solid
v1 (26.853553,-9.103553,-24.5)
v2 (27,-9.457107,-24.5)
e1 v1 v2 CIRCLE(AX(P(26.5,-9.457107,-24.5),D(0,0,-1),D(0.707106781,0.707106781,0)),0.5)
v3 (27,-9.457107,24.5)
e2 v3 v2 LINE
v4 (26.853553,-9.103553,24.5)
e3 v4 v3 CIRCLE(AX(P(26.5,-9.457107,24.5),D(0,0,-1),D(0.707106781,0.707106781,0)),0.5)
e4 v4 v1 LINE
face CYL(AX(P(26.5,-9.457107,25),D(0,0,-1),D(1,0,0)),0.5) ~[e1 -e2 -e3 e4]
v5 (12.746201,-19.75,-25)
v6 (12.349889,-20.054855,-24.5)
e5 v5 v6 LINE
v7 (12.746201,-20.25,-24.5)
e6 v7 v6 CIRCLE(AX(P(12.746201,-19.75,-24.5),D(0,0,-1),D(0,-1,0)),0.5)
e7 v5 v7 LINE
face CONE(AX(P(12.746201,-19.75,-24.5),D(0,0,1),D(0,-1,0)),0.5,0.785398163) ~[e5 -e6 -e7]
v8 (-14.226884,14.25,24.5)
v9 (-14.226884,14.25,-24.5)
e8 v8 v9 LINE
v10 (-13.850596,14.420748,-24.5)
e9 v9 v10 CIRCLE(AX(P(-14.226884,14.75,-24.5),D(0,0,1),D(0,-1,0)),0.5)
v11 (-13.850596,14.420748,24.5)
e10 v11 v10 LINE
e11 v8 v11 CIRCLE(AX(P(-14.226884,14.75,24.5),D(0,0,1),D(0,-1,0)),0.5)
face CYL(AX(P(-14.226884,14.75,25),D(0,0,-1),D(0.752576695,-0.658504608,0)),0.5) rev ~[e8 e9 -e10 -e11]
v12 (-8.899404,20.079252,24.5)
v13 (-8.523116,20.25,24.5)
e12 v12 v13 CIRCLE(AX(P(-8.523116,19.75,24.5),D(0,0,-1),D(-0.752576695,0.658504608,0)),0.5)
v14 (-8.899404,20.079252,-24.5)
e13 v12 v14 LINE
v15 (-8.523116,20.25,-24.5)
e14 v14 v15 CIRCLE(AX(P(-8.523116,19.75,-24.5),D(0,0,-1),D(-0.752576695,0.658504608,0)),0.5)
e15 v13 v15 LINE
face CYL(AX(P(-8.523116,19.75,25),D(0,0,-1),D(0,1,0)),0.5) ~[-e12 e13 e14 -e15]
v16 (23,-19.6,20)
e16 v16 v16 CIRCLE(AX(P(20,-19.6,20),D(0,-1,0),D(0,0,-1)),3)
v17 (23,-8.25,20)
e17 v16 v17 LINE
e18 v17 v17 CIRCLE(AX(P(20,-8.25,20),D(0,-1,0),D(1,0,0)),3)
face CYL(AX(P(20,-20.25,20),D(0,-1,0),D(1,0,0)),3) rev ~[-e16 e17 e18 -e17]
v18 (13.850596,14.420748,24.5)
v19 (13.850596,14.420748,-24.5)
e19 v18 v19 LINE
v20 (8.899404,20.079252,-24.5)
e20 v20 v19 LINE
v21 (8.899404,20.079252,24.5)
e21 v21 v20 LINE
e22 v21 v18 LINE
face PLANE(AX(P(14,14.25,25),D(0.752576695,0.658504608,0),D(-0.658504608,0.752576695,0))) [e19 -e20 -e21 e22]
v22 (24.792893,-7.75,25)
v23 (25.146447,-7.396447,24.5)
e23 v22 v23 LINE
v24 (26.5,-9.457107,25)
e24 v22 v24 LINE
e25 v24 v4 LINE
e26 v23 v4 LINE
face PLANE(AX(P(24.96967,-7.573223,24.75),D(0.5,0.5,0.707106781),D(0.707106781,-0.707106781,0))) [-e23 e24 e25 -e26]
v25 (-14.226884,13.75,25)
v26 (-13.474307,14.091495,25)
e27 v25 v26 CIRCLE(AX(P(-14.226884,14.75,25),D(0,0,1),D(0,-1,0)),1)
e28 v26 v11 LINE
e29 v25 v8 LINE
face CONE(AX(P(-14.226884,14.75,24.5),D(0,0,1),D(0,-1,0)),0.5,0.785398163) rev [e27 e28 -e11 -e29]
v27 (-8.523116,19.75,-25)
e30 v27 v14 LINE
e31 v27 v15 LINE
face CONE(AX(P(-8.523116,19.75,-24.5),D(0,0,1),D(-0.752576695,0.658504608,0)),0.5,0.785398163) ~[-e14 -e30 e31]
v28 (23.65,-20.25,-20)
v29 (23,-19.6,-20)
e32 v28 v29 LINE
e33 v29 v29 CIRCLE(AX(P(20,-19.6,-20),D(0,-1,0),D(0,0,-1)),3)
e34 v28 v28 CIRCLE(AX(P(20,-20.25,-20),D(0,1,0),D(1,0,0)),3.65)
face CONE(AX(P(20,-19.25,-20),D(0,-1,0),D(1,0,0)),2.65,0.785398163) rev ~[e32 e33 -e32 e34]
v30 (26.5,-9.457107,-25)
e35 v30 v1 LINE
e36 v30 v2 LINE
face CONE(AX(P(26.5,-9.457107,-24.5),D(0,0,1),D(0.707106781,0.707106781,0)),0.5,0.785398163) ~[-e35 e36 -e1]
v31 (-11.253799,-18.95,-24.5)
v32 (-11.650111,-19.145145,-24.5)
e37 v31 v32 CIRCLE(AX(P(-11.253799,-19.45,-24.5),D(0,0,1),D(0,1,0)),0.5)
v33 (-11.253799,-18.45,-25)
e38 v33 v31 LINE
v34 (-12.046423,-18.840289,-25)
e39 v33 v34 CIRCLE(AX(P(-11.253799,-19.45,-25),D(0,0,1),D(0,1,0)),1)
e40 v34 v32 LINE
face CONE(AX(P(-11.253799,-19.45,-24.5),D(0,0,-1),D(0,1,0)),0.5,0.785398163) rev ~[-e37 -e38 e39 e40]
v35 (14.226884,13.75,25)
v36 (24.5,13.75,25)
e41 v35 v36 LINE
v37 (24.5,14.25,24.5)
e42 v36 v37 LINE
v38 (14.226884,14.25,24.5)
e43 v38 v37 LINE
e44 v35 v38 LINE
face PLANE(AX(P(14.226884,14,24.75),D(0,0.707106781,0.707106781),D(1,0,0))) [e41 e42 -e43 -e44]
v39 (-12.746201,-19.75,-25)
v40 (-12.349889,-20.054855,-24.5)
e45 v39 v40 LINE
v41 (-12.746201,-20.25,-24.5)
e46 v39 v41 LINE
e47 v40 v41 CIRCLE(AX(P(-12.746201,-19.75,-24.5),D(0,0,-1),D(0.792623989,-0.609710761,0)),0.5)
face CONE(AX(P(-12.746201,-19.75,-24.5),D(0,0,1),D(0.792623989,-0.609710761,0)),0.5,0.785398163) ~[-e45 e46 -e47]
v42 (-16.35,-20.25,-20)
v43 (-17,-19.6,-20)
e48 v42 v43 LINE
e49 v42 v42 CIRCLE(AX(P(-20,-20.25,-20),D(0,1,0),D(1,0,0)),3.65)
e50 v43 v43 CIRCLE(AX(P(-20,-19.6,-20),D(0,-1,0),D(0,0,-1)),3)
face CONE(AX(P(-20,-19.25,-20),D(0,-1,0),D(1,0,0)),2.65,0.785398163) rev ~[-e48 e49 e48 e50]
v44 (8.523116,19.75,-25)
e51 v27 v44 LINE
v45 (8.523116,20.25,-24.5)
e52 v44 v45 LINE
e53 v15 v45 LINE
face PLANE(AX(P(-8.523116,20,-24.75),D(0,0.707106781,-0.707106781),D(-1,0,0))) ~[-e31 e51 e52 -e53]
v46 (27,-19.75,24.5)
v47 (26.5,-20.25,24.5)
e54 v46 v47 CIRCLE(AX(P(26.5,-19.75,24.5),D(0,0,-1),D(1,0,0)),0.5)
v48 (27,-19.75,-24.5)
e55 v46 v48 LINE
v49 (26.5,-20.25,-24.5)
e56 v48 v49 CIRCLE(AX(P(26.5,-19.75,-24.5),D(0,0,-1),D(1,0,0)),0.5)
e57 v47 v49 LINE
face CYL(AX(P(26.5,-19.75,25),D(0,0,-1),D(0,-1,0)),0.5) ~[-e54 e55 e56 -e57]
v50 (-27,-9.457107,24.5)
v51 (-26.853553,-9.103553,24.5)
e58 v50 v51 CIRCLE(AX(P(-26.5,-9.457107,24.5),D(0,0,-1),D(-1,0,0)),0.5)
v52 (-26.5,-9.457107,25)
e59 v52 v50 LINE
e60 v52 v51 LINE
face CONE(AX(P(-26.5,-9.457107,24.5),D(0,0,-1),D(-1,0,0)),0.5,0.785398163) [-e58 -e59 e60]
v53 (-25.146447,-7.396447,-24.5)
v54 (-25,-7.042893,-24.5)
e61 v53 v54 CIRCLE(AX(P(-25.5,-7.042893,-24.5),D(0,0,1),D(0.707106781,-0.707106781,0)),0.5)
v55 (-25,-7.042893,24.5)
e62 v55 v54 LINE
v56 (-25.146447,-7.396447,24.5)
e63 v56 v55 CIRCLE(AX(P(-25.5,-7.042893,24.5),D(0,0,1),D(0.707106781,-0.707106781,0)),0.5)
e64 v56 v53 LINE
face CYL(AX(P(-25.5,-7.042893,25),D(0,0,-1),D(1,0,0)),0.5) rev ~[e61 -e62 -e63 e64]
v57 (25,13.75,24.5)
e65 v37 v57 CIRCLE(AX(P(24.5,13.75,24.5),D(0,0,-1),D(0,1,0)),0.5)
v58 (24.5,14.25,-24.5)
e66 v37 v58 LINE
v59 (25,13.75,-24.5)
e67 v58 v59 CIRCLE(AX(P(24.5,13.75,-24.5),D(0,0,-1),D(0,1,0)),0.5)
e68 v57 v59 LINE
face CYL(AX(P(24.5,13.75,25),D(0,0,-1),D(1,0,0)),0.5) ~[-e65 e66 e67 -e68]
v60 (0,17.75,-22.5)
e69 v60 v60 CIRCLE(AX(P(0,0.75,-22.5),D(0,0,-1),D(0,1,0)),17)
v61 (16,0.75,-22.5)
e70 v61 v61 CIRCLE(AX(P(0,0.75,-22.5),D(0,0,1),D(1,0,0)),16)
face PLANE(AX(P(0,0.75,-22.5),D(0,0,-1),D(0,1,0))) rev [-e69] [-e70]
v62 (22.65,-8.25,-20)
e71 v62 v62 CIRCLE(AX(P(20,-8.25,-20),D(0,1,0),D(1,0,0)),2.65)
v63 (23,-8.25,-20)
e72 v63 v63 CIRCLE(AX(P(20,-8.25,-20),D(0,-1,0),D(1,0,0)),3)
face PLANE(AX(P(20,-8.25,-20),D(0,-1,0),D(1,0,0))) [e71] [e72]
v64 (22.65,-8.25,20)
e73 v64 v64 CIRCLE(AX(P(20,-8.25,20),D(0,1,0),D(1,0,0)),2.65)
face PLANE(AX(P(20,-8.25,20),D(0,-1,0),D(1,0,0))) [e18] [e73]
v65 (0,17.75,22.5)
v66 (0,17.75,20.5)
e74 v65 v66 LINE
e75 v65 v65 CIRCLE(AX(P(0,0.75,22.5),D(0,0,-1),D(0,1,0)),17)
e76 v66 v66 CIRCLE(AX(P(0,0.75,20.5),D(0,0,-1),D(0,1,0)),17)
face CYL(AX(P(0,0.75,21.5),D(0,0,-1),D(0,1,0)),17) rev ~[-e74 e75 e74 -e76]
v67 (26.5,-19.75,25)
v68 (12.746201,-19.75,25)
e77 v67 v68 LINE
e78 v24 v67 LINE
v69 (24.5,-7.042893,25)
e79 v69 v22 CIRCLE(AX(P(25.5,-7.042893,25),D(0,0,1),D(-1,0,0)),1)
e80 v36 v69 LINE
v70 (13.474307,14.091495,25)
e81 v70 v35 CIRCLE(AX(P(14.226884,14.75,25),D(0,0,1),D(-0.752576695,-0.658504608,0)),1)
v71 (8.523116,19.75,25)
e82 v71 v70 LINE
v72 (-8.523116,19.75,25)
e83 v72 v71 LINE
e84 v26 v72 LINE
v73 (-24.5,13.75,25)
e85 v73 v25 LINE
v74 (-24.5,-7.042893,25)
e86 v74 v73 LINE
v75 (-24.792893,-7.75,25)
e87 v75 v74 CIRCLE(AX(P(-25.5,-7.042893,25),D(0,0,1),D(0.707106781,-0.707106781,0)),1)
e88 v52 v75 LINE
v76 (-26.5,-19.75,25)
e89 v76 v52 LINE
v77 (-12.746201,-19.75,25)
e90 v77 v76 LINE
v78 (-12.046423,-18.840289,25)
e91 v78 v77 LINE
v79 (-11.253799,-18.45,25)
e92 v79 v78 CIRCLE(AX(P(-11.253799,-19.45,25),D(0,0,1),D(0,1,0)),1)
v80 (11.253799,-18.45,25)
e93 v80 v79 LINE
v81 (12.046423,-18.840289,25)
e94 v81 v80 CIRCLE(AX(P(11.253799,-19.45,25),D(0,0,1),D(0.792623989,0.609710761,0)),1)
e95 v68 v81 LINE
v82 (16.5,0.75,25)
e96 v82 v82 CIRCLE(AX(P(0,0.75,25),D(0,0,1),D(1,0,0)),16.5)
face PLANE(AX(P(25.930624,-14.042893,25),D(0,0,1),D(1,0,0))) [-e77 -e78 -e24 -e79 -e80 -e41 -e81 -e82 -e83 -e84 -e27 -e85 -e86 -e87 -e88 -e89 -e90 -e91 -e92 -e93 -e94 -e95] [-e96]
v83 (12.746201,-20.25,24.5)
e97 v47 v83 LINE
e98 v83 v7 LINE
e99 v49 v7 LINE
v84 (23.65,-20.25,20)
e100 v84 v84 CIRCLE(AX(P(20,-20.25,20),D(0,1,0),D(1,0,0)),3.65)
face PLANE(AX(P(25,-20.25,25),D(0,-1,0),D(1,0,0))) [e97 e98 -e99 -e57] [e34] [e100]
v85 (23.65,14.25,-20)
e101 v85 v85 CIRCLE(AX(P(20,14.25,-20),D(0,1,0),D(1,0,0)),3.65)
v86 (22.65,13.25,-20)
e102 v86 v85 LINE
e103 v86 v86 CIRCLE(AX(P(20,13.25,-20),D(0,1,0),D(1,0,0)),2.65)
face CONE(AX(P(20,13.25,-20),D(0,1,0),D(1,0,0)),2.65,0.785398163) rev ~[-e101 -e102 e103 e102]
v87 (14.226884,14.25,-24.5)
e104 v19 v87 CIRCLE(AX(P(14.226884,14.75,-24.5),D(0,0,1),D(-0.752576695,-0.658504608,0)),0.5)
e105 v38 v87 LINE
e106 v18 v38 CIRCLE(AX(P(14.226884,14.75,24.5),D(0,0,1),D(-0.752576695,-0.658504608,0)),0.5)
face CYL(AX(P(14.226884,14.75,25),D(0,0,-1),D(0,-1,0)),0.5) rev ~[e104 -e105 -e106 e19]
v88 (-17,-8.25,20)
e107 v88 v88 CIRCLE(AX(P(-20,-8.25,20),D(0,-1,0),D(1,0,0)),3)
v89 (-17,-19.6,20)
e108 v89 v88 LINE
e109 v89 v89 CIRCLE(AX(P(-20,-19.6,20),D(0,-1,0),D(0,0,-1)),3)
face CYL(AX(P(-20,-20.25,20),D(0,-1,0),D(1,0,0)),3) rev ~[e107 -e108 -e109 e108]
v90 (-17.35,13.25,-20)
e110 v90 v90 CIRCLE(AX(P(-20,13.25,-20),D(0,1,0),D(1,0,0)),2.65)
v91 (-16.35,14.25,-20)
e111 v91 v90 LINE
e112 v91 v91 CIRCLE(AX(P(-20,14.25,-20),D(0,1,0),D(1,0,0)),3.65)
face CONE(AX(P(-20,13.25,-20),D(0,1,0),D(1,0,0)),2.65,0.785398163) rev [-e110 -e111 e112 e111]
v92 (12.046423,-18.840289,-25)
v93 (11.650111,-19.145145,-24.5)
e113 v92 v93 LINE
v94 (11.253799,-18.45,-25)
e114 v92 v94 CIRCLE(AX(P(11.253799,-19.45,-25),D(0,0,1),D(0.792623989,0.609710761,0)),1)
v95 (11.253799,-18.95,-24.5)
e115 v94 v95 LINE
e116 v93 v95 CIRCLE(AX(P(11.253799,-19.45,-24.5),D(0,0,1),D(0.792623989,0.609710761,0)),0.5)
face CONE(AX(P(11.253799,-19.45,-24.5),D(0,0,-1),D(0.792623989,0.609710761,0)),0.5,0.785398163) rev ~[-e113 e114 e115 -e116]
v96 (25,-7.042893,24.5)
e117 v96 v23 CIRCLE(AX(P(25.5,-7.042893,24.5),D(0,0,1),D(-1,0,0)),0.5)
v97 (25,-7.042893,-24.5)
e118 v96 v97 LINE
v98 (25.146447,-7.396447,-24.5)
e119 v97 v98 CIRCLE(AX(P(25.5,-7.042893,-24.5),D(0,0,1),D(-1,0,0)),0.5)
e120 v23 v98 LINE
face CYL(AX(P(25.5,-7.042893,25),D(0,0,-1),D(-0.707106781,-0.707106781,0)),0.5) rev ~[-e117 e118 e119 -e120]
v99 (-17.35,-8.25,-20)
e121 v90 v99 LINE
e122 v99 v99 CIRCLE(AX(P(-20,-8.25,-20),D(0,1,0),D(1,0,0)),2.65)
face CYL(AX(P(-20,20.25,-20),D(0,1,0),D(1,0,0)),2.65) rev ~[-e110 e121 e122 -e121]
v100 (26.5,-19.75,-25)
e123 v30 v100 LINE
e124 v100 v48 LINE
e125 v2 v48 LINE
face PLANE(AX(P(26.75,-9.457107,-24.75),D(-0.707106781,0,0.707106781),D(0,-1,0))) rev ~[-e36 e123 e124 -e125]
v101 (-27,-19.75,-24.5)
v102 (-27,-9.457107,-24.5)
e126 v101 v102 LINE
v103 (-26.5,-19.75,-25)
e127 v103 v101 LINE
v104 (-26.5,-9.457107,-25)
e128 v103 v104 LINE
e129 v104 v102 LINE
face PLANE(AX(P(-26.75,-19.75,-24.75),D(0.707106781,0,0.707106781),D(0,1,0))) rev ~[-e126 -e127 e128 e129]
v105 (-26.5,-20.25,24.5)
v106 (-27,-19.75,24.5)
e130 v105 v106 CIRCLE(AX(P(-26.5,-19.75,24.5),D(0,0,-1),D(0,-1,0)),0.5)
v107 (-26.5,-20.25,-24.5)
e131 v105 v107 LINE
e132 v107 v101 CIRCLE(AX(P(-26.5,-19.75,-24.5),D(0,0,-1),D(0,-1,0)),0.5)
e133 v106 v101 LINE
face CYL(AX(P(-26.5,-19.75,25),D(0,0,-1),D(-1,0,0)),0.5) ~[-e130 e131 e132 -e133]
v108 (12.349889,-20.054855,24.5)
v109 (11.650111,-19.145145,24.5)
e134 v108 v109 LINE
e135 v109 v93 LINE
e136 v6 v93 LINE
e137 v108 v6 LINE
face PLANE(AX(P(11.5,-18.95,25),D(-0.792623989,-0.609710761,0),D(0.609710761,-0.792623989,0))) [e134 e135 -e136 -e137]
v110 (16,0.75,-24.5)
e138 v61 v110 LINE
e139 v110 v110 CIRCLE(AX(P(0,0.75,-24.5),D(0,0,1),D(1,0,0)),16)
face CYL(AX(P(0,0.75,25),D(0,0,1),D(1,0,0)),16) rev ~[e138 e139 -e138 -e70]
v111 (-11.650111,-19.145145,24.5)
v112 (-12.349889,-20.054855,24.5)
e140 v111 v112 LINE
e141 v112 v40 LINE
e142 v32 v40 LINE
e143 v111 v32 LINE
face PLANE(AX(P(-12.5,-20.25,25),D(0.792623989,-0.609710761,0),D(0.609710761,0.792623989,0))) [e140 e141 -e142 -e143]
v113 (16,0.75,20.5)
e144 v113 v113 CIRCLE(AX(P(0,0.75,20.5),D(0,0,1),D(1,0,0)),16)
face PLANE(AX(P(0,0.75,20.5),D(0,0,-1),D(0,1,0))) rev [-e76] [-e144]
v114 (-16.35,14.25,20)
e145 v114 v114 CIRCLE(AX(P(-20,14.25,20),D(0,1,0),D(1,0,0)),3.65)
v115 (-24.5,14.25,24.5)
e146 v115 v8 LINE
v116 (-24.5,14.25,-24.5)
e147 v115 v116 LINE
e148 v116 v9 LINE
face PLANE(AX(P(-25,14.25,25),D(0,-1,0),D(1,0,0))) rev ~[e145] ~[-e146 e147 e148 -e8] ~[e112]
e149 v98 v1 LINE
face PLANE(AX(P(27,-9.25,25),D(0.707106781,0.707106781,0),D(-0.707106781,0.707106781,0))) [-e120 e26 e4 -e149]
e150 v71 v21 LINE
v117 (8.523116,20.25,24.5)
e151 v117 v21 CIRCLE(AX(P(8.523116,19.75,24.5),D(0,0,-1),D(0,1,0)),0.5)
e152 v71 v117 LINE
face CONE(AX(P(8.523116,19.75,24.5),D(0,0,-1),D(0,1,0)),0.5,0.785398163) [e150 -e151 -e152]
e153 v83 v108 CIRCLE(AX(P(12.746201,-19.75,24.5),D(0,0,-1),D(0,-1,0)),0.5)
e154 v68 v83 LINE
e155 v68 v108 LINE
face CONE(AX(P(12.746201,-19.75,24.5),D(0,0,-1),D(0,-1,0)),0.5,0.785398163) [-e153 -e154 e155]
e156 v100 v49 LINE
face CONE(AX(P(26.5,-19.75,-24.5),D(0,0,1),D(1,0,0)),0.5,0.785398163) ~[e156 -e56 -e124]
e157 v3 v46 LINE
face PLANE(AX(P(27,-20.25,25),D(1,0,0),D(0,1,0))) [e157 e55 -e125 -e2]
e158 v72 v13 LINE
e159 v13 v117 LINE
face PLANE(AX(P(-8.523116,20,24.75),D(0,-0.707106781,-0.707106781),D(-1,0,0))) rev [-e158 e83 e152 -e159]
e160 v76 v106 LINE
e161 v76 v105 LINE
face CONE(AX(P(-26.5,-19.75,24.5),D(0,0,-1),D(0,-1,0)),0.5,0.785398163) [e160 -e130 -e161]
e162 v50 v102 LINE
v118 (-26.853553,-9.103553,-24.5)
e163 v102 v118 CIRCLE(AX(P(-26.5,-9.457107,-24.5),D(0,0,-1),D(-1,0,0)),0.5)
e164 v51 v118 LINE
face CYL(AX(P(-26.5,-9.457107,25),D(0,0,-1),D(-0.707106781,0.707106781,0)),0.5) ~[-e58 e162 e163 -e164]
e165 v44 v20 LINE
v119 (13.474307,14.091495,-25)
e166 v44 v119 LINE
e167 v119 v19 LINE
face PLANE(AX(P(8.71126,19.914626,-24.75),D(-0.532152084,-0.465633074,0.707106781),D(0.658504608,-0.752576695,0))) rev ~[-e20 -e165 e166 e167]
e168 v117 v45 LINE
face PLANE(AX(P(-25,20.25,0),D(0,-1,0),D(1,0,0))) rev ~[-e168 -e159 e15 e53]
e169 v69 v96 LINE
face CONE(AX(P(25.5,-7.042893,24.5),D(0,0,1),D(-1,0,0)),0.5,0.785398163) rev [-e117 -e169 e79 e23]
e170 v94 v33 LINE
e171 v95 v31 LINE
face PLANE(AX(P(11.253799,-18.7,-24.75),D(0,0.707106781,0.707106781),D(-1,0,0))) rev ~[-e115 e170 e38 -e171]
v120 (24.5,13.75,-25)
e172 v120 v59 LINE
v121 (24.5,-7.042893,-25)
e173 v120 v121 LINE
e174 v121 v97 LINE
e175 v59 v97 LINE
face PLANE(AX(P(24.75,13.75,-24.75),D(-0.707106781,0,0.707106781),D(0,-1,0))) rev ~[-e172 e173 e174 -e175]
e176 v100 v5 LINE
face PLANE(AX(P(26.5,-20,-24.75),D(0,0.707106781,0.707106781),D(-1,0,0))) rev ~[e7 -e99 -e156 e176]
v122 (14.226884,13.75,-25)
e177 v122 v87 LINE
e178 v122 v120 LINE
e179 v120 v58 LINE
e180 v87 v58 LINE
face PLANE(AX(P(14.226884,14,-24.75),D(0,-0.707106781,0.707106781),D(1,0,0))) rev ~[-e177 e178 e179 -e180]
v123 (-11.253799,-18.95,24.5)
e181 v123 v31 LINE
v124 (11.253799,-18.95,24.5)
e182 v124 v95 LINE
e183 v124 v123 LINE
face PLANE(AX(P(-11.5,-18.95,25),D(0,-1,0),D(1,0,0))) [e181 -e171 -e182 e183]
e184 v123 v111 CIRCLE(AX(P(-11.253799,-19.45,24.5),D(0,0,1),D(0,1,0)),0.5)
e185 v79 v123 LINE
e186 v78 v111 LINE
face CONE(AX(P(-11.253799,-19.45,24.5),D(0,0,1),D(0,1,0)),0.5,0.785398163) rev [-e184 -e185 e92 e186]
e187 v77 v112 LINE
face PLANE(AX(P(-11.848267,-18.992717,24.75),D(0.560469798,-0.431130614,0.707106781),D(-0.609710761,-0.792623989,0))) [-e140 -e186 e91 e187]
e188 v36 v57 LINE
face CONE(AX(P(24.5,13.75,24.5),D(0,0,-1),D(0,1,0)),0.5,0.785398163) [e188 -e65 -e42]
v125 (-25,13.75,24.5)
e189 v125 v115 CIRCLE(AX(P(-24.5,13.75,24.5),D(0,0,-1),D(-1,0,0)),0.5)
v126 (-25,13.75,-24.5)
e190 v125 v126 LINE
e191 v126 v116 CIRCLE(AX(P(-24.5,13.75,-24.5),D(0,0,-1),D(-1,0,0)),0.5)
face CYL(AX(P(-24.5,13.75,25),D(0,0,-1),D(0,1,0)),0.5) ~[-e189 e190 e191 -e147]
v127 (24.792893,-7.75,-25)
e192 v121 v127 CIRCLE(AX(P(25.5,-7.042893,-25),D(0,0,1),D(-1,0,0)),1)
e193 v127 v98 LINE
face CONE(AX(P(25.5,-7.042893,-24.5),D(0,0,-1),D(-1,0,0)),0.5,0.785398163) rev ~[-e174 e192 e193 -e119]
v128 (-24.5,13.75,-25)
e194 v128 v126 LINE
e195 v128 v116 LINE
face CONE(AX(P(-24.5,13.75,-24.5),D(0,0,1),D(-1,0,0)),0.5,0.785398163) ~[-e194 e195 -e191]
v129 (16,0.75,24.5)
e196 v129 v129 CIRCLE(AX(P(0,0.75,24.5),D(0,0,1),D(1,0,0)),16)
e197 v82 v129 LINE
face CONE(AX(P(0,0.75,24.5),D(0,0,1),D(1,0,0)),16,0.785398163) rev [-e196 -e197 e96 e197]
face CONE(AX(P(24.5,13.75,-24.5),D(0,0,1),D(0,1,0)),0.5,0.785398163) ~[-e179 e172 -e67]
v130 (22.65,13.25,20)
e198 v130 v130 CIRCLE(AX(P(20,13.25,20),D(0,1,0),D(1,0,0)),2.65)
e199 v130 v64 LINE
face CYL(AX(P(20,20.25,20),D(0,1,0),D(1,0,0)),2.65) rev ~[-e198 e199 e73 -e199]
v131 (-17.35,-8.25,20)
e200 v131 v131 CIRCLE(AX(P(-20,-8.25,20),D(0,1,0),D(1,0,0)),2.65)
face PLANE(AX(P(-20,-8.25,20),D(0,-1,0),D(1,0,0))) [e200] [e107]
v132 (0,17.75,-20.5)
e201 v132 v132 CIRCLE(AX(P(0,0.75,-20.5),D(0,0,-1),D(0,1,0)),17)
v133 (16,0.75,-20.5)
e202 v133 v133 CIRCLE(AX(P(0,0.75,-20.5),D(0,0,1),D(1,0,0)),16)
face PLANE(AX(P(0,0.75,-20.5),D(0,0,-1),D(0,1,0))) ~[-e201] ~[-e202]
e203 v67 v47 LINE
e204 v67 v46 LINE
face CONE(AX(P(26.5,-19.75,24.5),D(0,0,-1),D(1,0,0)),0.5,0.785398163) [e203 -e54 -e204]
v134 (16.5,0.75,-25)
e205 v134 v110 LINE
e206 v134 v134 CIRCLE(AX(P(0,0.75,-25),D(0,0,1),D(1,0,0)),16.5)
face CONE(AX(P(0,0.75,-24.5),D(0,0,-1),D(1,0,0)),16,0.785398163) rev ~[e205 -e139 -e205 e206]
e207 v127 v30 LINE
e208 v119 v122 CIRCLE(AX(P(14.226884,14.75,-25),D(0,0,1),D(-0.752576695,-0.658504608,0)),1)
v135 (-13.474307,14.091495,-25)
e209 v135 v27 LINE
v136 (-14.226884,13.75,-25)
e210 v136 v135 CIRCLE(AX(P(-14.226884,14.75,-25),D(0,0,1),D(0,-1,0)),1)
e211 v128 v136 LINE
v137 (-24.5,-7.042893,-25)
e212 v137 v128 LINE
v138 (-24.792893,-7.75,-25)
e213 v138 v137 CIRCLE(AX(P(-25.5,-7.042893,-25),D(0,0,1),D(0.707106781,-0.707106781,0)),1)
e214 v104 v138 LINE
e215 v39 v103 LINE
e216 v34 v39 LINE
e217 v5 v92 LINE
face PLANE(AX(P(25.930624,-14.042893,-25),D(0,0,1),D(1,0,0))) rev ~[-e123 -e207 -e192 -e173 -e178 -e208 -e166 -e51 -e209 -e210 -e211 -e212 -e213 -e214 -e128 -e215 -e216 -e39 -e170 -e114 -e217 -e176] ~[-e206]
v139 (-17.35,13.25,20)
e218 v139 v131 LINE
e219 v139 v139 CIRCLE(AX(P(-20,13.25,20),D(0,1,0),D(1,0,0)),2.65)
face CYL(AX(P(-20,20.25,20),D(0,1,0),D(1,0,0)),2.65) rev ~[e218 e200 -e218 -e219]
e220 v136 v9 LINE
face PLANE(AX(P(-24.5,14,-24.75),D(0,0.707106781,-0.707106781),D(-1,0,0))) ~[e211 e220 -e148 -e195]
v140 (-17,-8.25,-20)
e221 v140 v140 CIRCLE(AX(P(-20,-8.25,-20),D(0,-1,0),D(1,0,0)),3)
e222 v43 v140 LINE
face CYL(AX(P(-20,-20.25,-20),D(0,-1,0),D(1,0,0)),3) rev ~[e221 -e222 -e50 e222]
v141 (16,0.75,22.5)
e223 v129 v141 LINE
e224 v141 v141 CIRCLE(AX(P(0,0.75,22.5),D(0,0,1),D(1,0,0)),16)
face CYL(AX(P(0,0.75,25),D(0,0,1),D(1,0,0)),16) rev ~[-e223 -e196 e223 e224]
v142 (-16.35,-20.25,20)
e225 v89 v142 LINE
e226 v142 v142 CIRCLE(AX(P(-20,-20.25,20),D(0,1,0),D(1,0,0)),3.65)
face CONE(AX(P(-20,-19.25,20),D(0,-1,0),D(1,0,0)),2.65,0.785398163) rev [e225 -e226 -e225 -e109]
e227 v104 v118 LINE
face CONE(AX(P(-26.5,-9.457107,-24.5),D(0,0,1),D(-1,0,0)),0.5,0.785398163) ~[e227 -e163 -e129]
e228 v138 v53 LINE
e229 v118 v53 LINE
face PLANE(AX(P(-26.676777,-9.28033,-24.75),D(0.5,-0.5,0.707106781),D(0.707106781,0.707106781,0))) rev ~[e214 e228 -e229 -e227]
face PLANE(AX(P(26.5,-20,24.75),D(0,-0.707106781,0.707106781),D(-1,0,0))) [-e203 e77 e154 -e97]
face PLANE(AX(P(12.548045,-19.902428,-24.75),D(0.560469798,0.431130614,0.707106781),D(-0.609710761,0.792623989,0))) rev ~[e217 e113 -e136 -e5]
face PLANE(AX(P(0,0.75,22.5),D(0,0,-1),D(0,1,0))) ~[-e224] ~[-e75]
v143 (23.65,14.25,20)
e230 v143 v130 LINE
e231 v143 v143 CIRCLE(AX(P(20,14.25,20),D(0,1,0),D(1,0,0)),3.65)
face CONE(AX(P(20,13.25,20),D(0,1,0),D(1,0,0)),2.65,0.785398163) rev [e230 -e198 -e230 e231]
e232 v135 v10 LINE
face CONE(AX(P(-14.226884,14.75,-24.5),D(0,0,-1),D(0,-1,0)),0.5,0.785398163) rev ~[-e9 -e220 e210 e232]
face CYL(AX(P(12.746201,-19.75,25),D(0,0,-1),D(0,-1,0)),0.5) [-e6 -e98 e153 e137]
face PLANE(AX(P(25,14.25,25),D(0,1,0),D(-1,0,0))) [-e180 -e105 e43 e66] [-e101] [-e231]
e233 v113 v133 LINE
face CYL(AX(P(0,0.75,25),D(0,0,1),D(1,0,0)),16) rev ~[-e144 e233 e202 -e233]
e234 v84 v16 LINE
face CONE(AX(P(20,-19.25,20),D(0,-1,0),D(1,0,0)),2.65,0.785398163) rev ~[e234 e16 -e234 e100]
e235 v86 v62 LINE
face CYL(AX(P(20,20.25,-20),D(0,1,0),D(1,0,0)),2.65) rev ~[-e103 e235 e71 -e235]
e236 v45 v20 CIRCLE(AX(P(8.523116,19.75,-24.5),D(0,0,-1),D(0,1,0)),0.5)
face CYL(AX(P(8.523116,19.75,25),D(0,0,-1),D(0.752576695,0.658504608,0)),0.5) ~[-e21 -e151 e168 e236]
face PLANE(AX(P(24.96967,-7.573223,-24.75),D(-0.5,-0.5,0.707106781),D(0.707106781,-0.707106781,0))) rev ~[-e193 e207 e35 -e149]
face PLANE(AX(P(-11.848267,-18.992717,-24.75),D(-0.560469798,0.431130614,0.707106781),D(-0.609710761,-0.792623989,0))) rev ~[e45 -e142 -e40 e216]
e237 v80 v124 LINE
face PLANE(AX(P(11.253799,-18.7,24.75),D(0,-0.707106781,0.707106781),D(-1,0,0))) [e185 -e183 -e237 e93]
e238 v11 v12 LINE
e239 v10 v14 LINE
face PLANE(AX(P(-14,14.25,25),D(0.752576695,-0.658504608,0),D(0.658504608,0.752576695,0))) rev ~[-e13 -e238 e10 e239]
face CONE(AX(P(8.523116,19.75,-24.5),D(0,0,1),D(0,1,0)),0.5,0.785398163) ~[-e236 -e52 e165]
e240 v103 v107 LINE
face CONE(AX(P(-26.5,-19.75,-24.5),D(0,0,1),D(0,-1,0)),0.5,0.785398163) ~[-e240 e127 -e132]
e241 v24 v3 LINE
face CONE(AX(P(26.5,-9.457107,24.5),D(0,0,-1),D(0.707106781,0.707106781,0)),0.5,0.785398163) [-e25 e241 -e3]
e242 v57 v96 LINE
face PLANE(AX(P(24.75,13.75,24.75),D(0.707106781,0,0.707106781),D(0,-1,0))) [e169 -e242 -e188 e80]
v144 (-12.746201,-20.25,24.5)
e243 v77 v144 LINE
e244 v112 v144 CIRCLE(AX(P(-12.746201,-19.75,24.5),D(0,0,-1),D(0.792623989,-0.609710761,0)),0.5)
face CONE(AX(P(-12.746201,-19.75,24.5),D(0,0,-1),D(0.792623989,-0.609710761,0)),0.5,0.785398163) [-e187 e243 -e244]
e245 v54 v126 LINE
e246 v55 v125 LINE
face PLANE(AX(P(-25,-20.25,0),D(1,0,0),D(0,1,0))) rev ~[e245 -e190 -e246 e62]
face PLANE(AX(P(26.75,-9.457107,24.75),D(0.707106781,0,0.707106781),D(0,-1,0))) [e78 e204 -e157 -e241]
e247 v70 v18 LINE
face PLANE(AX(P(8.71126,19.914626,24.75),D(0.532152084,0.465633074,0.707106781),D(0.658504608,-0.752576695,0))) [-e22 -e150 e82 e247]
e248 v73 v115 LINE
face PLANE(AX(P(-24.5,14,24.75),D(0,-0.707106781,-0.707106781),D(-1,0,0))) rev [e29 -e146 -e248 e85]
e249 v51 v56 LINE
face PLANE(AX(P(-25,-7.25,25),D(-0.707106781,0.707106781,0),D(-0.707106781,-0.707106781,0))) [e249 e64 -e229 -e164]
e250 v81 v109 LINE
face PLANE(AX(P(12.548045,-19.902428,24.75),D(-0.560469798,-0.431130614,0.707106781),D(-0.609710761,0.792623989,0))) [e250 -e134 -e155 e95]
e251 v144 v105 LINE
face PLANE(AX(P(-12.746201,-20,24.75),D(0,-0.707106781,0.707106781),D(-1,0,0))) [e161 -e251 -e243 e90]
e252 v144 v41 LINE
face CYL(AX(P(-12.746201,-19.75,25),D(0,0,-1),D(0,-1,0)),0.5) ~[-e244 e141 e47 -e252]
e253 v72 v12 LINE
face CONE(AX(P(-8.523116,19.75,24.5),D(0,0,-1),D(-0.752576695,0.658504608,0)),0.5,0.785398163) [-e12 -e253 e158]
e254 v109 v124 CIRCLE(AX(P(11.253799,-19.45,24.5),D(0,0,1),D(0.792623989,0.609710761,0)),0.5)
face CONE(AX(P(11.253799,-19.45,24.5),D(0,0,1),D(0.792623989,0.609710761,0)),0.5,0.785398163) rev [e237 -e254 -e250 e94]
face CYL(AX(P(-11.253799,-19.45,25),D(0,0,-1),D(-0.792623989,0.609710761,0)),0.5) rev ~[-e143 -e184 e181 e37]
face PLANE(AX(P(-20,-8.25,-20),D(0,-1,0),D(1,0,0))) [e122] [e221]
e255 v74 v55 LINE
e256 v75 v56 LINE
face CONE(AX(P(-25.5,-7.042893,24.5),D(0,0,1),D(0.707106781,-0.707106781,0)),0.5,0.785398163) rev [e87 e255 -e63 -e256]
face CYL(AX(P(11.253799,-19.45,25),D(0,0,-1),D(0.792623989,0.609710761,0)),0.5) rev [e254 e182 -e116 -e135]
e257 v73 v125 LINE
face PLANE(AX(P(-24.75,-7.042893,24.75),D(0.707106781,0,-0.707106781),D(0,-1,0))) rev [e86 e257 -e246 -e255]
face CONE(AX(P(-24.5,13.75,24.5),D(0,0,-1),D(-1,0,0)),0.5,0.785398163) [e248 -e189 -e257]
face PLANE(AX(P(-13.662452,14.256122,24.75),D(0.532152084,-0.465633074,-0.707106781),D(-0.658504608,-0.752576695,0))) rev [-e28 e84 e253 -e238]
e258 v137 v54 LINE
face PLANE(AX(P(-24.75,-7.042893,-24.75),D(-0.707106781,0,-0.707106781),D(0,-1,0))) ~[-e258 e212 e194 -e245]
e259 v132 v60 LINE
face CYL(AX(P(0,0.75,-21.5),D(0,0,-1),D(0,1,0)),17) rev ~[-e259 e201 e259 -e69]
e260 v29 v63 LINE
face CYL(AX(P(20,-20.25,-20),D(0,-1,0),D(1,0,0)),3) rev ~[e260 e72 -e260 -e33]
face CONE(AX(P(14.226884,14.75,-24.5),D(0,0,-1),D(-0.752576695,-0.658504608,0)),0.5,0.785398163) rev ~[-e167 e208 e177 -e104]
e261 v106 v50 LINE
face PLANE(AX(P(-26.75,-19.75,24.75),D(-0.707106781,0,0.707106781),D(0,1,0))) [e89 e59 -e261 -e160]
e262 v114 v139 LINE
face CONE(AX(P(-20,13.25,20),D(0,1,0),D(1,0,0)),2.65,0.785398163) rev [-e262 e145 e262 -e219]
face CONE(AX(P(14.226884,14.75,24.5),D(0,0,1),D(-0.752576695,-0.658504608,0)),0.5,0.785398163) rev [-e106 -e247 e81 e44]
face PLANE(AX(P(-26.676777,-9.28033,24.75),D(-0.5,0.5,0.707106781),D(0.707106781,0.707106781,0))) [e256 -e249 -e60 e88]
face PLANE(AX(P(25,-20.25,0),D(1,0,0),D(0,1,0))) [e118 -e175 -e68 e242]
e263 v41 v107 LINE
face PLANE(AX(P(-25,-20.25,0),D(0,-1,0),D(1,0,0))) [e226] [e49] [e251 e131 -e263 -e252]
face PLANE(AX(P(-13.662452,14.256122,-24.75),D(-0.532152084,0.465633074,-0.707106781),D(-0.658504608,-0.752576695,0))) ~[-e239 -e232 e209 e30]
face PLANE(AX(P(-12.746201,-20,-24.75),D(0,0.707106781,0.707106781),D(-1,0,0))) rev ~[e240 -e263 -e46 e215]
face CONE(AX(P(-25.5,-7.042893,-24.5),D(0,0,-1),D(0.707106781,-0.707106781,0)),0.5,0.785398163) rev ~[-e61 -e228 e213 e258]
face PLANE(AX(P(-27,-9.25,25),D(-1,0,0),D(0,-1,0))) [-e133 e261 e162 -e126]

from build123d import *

# Parameters (mm, degrees)
SKETCH_1_W          = 50
SKETCH_1_H          = 40.5
EXTRUDE_1_DEPTH     = 25
SKETCH_5_R          = 2.65
CUT_EXTRUDE_2_DEPTH = 41.5
CUT_EXTRUDE_3_REACH = 52
CUT_EXTRUDE_4_DEPTH = 51
EXTRUDE_2_DEPTH     = 50
CHAMFER_1_SIZE      = 1
SKETCH_9_R          = 3
M6X12_DEPTH         = 12
FILLET_1_R          = 0.5
CHAMFER_3_SIZE      = 0.5
CUT_EXTRUDE_6_REACH = 52
SKETCH_10_R         = 16
CHAMFER_4_SIZE      = 0.5
SKETCH_11_W         = 2
SKETCH_11_H         = 17


with BuildPart() as part:
    # Эскиз1 → Бобышка-Вытянуть1 (new body, symmetric)
    with BuildSketch(Plane.XY):
        Rectangle(SKETCH_1_W, SKETCH_1_H)
    extrude(amount=EXTRUDE_1_DEPTH, both=True)

    # Эскиз5 → Вырез-Вытянуть2 (cut, through all)
    with BuildSketch(Plane(origin=(0, 20.25, 0), x_dir=(1, 0, 0), z_dir=(0, 1, 0))):
        with Locations((-20, 20)):
            Circle(SKETCH_5_R)
        with Locations((20, 20)):
            Circle(SKETCH_5_R)
        with Locations((20, -20)):
            Circle(SKETCH_5_R)
        with Locations((-20, -20)):
            Circle(SKETCH_5_R)
    extrude(amount=-CUT_EXTRUDE_2_DEPTH, mode=Mode.SUBTRACT)

    # Эскиз6 → Вырез-Вытянуть3 (cut, up to next)
    with BuildSketch(Plane.XY.offset(25), mode=Mode.PRIVATE) as cut_extrude_3_sk1:
        Polygon((-25, 14.25), (-14, 14.25), (-8.75, 20.25), (-25, 20.25), align=None)
    cut_extrude_3_tool1 = extrude(cut_extrude_3_sk1.sketch, amount=-CUT_EXTRUDE_3_REACH, mode=Mode.PRIVATE) & part.part
    add(cut_extrude_3_tool1.solids().sort_by_distance((-18.103211, 17.442661, 25))[0], mode=Mode.SUBTRACT)
    # Эскиз6 → Вырез-Вытянуть3 (cut, up to next)
    with BuildSketch(Plane.XY.offset(25), mode=Mode.PRIVATE) as cut_extrude_3_sk2:
        Polygon((25, 20.25), (25, 14.25), (14, 14.25), (8.75, 20.25), align=None)
    cut_extrude_3_tool2 = extrude(cut_extrude_3_sk2.sketch, amount=-CUT_EXTRUDE_3_REACH, mode=Mode.PRIVATE) & part.part
    add(cut_extrude_3_tool2.solids().sort_by_distance((18.103211, 17.442661, 25))[0], mode=Mode.SUBTRACT)

    # Эскиз7 → Вырез-Вытянуть4 (cut, through all)
    with BuildSketch(Plane.XY.offset(25)):
        Polygon((-12.5, -20.25), (-11.5, -18.95), (11.5, -18.95), (12.5, -20.25), align=None)
    extrude(amount=-CUT_EXTRUDE_4_DEPTH, mode=Mode.SUBTRACT)

    # Эскиз8 → Бобышка-Вытянуть2 (add)
    with BuildSketch(Plane.XY.offset(25)):
        Polygon((25, -20.25), (27, -20.25), (27, -9.25), (25, -7.25), align=None)
        Polygon((-25, -20.25), (-25, -7.25), (-27, -9.25), (-27, -20.25), align=None)
    extrude(amount=-EXTRUDE_2_DEPTH)

    # Фаска1
    chamfer_1_edges = [part.edges().sort_by_distance(p)[0] for p in [
        (-22.65, -20.25, -20),
        (17.35, -20.25, -20),
        (17.35, -20.25, 20),
        (-22.65, -20.25, 20),
        (-22.65, 14.25, 20),
        (-22.65, 14.25, -20),
        (17.35, 14.25, 20),
        (17.35, 14.25, -20),
    ]]
    chamfer(chamfer_1_edges, length=CHAMFER_1_SIZE)

    # Эскиз9 → M6x12 (cut)
    with BuildSketch(Plane.XZ.offset(20.25)):
        with Locations((-20, 20)):
            Circle(SKETCH_9_R)
        with Locations((20, 20)):
            Circle(SKETCH_9_R)
        with Locations((20, -20)):
            Circle(SKETCH_9_R)
        with Locations((-20, -20)):
            Circle(SKETCH_9_R)
    extrude(amount=-M6X12_DEPTH, mode=Mode.SUBTRACT)

    # Скругление1
    fillet_1_edges = [part.edges().sort_by_distance(p)[0] for p in [
        (-25, -7.25, 0),
        (-27, -9.25, 0),
        (-27, -20.25, 0),
        (-12.5, -20.25, 0),
        (-11.5, -18.95, 0),
        (11.5, -18.95, 0),
        (12.5, -20.25, 0),
        (27, -20.25, 0),
        (27, -9.25, 0),
        (25, -7.25, 0),
        (-25, 14.25, 0),
        (-14, 14.25, 0),
        (-8.75, 20.25, 0),
        (8.75, 20.25, 0),
        (14, 14.25, 0),
        (25, 14.25, 0),
    ]]
    fillet(fillet_1_edges, radius=FILLET_1_R)

    # Фаска3
    chamfer_3_edges = [part.edges().sort_by_distance(p)[0] for p in [
        (-25, 3.353553391, -25),
        (-25, 3.353553391, 25),
        (-26, -8.25, -25),
        (-26, -8.25, 25),
        (-19.623100374, -20.25, 25),
        (-12, -19.6, 25),
        (0, -18.95, 25),
        (12, -19.6, 25),
        (19.623100374, -20.25, 25),
        (27, -14.603553391, 25),
        (26, -8.25, 25),
        (25, 3.353553391, 25),
        (19.363442057, 14.25, 25),
        (11.375, 17.25, 25),
        (0, 20.25, 25),
        (-11.375, 17.25, 25),
        (-19.363442057, 14.25, 25),
        (-27, -14.603553391, 25),
        (24.853553391, 14.103553391, 25),
        (8.729724028, 20.205316457, 25),
        (-8.729724028, 20.205316457, 25),
        (-24.853553391, 14.103553391, 25),
        (26.961939766, -9.265765065, 25),
        (26.853553391, -20.103553391, 25),
        (12.525324868, -20.198568663, 25),
        (-12.525324868, -20.198568663, 25),
        (-26.853553391, -20.103553391, 25),
        (-26.961939766, -9.265765065, 25),
        (-27, -14.603553391, -25),
        (-12, -19.6, -25),
        (-19.623100374, -20.25, -25),
        (-19.363442057, 14.25, -25),
        (-11.375, 17.25, -25),
        (0, 20.25, -25),
        (11.375, 17.25, -25),
        (19.363442057, 14.25, -25),
        (25, 3.353553391, -25),
        (26, -8.25, -25),
        (27, -14.603553391, -25),
        (19.623100374, -20.25, -25),
        (12, -19.6, -25),
        (0, -18.95, -25),
        (24.853553391, 14.103553391, -25),
        (8.729724028, 20.205316457, -25),
        (-8.729724028, 20.205316457, -25),
        (-24.853553391, 14.103553391, -25),
        (26.961939766, -9.265765065, -25),
        (26.853553391, -20.103553391, -25),
        (12.525324868, -20.198568663, -25),
        (-12.525324868, -20.198568663, -25),
        (-26.853553391, -20.103553391, -25),
        (-26.961939766, -9.265765065, -25),
        (-25.038060234, -7.234234935, 25),
        (-25.038060234, -7.234234935, -25),
        (-11.474675132, -19.001431337, 25),
        (-11.474675132, -19.001431337, -25),
        (11.474675132, -19.001431337, 25),
        (11.474675132, -19.001431337, -25),
        (25.038060234, -7.234234935, 25),
        (25.038060234, -7.234234935, -25),
        (-14.020275972, 14.294683543, 25),
        (-14.020275972, 14.294683543, -25),
        (14.020275972, 14.294683543, 25),
        (14.020275972, 14.294683543, -25),
    ]]
    chamfer(chamfer_3_edges, length=CHAMFER_3_SIZE)

    # Эскиз10 → Вырез-Вытянуть6 (cut, up to next)
    with BuildSketch(Plane.XY.offset(25), mode=Mode.PRIVATE) as cut_extrude_6_sk1:
        with Locations((0, 0.75)):
            Circle(SKETCH_10_R)
    cut_extrude_6_tool1 = extrude(cut_extrude_6_sk1.sketch, amount=-CUT_EXTRUDE_6_REACH, mode=Mode.PRIVATE) & part.part
    add(cut_extrude_6_tool1.solids().sort_by_distance((0, 0.75, 25))[0], mode=Mode.SUBTRACT)

    # Фаска4
    chamfer_4_edges = [part.edges().sort_by_distance(p)[0] for p in [
        (-16, 0.75, -25),
        (-16, 0.75, 25),
    ]]
    chamfer(chamfer_4_edges, length=CHAMFER_4_SIZE)

    # Эскиз11 → Вырез-Повернуть1 (revolve, cut)
    with BuildSketch(Plane(origin=(0, 0, 0), x_dir=(0, 0, -1), z_dir=(1, 0, 0))):
        with Locations((-21.5, 9.25)):
            Rectangle(SKETCH_11_W, SKETCH_11_H)
        with Locations((21.5, 9.25)):
            Rectangle(SKETCH_11_W, SKETCH_11_H)
    revolve(axis=Axis((0, 0.75, 25), (0, 0, -1)), mode=Mode.SUBTRACT)


solid = part.part
